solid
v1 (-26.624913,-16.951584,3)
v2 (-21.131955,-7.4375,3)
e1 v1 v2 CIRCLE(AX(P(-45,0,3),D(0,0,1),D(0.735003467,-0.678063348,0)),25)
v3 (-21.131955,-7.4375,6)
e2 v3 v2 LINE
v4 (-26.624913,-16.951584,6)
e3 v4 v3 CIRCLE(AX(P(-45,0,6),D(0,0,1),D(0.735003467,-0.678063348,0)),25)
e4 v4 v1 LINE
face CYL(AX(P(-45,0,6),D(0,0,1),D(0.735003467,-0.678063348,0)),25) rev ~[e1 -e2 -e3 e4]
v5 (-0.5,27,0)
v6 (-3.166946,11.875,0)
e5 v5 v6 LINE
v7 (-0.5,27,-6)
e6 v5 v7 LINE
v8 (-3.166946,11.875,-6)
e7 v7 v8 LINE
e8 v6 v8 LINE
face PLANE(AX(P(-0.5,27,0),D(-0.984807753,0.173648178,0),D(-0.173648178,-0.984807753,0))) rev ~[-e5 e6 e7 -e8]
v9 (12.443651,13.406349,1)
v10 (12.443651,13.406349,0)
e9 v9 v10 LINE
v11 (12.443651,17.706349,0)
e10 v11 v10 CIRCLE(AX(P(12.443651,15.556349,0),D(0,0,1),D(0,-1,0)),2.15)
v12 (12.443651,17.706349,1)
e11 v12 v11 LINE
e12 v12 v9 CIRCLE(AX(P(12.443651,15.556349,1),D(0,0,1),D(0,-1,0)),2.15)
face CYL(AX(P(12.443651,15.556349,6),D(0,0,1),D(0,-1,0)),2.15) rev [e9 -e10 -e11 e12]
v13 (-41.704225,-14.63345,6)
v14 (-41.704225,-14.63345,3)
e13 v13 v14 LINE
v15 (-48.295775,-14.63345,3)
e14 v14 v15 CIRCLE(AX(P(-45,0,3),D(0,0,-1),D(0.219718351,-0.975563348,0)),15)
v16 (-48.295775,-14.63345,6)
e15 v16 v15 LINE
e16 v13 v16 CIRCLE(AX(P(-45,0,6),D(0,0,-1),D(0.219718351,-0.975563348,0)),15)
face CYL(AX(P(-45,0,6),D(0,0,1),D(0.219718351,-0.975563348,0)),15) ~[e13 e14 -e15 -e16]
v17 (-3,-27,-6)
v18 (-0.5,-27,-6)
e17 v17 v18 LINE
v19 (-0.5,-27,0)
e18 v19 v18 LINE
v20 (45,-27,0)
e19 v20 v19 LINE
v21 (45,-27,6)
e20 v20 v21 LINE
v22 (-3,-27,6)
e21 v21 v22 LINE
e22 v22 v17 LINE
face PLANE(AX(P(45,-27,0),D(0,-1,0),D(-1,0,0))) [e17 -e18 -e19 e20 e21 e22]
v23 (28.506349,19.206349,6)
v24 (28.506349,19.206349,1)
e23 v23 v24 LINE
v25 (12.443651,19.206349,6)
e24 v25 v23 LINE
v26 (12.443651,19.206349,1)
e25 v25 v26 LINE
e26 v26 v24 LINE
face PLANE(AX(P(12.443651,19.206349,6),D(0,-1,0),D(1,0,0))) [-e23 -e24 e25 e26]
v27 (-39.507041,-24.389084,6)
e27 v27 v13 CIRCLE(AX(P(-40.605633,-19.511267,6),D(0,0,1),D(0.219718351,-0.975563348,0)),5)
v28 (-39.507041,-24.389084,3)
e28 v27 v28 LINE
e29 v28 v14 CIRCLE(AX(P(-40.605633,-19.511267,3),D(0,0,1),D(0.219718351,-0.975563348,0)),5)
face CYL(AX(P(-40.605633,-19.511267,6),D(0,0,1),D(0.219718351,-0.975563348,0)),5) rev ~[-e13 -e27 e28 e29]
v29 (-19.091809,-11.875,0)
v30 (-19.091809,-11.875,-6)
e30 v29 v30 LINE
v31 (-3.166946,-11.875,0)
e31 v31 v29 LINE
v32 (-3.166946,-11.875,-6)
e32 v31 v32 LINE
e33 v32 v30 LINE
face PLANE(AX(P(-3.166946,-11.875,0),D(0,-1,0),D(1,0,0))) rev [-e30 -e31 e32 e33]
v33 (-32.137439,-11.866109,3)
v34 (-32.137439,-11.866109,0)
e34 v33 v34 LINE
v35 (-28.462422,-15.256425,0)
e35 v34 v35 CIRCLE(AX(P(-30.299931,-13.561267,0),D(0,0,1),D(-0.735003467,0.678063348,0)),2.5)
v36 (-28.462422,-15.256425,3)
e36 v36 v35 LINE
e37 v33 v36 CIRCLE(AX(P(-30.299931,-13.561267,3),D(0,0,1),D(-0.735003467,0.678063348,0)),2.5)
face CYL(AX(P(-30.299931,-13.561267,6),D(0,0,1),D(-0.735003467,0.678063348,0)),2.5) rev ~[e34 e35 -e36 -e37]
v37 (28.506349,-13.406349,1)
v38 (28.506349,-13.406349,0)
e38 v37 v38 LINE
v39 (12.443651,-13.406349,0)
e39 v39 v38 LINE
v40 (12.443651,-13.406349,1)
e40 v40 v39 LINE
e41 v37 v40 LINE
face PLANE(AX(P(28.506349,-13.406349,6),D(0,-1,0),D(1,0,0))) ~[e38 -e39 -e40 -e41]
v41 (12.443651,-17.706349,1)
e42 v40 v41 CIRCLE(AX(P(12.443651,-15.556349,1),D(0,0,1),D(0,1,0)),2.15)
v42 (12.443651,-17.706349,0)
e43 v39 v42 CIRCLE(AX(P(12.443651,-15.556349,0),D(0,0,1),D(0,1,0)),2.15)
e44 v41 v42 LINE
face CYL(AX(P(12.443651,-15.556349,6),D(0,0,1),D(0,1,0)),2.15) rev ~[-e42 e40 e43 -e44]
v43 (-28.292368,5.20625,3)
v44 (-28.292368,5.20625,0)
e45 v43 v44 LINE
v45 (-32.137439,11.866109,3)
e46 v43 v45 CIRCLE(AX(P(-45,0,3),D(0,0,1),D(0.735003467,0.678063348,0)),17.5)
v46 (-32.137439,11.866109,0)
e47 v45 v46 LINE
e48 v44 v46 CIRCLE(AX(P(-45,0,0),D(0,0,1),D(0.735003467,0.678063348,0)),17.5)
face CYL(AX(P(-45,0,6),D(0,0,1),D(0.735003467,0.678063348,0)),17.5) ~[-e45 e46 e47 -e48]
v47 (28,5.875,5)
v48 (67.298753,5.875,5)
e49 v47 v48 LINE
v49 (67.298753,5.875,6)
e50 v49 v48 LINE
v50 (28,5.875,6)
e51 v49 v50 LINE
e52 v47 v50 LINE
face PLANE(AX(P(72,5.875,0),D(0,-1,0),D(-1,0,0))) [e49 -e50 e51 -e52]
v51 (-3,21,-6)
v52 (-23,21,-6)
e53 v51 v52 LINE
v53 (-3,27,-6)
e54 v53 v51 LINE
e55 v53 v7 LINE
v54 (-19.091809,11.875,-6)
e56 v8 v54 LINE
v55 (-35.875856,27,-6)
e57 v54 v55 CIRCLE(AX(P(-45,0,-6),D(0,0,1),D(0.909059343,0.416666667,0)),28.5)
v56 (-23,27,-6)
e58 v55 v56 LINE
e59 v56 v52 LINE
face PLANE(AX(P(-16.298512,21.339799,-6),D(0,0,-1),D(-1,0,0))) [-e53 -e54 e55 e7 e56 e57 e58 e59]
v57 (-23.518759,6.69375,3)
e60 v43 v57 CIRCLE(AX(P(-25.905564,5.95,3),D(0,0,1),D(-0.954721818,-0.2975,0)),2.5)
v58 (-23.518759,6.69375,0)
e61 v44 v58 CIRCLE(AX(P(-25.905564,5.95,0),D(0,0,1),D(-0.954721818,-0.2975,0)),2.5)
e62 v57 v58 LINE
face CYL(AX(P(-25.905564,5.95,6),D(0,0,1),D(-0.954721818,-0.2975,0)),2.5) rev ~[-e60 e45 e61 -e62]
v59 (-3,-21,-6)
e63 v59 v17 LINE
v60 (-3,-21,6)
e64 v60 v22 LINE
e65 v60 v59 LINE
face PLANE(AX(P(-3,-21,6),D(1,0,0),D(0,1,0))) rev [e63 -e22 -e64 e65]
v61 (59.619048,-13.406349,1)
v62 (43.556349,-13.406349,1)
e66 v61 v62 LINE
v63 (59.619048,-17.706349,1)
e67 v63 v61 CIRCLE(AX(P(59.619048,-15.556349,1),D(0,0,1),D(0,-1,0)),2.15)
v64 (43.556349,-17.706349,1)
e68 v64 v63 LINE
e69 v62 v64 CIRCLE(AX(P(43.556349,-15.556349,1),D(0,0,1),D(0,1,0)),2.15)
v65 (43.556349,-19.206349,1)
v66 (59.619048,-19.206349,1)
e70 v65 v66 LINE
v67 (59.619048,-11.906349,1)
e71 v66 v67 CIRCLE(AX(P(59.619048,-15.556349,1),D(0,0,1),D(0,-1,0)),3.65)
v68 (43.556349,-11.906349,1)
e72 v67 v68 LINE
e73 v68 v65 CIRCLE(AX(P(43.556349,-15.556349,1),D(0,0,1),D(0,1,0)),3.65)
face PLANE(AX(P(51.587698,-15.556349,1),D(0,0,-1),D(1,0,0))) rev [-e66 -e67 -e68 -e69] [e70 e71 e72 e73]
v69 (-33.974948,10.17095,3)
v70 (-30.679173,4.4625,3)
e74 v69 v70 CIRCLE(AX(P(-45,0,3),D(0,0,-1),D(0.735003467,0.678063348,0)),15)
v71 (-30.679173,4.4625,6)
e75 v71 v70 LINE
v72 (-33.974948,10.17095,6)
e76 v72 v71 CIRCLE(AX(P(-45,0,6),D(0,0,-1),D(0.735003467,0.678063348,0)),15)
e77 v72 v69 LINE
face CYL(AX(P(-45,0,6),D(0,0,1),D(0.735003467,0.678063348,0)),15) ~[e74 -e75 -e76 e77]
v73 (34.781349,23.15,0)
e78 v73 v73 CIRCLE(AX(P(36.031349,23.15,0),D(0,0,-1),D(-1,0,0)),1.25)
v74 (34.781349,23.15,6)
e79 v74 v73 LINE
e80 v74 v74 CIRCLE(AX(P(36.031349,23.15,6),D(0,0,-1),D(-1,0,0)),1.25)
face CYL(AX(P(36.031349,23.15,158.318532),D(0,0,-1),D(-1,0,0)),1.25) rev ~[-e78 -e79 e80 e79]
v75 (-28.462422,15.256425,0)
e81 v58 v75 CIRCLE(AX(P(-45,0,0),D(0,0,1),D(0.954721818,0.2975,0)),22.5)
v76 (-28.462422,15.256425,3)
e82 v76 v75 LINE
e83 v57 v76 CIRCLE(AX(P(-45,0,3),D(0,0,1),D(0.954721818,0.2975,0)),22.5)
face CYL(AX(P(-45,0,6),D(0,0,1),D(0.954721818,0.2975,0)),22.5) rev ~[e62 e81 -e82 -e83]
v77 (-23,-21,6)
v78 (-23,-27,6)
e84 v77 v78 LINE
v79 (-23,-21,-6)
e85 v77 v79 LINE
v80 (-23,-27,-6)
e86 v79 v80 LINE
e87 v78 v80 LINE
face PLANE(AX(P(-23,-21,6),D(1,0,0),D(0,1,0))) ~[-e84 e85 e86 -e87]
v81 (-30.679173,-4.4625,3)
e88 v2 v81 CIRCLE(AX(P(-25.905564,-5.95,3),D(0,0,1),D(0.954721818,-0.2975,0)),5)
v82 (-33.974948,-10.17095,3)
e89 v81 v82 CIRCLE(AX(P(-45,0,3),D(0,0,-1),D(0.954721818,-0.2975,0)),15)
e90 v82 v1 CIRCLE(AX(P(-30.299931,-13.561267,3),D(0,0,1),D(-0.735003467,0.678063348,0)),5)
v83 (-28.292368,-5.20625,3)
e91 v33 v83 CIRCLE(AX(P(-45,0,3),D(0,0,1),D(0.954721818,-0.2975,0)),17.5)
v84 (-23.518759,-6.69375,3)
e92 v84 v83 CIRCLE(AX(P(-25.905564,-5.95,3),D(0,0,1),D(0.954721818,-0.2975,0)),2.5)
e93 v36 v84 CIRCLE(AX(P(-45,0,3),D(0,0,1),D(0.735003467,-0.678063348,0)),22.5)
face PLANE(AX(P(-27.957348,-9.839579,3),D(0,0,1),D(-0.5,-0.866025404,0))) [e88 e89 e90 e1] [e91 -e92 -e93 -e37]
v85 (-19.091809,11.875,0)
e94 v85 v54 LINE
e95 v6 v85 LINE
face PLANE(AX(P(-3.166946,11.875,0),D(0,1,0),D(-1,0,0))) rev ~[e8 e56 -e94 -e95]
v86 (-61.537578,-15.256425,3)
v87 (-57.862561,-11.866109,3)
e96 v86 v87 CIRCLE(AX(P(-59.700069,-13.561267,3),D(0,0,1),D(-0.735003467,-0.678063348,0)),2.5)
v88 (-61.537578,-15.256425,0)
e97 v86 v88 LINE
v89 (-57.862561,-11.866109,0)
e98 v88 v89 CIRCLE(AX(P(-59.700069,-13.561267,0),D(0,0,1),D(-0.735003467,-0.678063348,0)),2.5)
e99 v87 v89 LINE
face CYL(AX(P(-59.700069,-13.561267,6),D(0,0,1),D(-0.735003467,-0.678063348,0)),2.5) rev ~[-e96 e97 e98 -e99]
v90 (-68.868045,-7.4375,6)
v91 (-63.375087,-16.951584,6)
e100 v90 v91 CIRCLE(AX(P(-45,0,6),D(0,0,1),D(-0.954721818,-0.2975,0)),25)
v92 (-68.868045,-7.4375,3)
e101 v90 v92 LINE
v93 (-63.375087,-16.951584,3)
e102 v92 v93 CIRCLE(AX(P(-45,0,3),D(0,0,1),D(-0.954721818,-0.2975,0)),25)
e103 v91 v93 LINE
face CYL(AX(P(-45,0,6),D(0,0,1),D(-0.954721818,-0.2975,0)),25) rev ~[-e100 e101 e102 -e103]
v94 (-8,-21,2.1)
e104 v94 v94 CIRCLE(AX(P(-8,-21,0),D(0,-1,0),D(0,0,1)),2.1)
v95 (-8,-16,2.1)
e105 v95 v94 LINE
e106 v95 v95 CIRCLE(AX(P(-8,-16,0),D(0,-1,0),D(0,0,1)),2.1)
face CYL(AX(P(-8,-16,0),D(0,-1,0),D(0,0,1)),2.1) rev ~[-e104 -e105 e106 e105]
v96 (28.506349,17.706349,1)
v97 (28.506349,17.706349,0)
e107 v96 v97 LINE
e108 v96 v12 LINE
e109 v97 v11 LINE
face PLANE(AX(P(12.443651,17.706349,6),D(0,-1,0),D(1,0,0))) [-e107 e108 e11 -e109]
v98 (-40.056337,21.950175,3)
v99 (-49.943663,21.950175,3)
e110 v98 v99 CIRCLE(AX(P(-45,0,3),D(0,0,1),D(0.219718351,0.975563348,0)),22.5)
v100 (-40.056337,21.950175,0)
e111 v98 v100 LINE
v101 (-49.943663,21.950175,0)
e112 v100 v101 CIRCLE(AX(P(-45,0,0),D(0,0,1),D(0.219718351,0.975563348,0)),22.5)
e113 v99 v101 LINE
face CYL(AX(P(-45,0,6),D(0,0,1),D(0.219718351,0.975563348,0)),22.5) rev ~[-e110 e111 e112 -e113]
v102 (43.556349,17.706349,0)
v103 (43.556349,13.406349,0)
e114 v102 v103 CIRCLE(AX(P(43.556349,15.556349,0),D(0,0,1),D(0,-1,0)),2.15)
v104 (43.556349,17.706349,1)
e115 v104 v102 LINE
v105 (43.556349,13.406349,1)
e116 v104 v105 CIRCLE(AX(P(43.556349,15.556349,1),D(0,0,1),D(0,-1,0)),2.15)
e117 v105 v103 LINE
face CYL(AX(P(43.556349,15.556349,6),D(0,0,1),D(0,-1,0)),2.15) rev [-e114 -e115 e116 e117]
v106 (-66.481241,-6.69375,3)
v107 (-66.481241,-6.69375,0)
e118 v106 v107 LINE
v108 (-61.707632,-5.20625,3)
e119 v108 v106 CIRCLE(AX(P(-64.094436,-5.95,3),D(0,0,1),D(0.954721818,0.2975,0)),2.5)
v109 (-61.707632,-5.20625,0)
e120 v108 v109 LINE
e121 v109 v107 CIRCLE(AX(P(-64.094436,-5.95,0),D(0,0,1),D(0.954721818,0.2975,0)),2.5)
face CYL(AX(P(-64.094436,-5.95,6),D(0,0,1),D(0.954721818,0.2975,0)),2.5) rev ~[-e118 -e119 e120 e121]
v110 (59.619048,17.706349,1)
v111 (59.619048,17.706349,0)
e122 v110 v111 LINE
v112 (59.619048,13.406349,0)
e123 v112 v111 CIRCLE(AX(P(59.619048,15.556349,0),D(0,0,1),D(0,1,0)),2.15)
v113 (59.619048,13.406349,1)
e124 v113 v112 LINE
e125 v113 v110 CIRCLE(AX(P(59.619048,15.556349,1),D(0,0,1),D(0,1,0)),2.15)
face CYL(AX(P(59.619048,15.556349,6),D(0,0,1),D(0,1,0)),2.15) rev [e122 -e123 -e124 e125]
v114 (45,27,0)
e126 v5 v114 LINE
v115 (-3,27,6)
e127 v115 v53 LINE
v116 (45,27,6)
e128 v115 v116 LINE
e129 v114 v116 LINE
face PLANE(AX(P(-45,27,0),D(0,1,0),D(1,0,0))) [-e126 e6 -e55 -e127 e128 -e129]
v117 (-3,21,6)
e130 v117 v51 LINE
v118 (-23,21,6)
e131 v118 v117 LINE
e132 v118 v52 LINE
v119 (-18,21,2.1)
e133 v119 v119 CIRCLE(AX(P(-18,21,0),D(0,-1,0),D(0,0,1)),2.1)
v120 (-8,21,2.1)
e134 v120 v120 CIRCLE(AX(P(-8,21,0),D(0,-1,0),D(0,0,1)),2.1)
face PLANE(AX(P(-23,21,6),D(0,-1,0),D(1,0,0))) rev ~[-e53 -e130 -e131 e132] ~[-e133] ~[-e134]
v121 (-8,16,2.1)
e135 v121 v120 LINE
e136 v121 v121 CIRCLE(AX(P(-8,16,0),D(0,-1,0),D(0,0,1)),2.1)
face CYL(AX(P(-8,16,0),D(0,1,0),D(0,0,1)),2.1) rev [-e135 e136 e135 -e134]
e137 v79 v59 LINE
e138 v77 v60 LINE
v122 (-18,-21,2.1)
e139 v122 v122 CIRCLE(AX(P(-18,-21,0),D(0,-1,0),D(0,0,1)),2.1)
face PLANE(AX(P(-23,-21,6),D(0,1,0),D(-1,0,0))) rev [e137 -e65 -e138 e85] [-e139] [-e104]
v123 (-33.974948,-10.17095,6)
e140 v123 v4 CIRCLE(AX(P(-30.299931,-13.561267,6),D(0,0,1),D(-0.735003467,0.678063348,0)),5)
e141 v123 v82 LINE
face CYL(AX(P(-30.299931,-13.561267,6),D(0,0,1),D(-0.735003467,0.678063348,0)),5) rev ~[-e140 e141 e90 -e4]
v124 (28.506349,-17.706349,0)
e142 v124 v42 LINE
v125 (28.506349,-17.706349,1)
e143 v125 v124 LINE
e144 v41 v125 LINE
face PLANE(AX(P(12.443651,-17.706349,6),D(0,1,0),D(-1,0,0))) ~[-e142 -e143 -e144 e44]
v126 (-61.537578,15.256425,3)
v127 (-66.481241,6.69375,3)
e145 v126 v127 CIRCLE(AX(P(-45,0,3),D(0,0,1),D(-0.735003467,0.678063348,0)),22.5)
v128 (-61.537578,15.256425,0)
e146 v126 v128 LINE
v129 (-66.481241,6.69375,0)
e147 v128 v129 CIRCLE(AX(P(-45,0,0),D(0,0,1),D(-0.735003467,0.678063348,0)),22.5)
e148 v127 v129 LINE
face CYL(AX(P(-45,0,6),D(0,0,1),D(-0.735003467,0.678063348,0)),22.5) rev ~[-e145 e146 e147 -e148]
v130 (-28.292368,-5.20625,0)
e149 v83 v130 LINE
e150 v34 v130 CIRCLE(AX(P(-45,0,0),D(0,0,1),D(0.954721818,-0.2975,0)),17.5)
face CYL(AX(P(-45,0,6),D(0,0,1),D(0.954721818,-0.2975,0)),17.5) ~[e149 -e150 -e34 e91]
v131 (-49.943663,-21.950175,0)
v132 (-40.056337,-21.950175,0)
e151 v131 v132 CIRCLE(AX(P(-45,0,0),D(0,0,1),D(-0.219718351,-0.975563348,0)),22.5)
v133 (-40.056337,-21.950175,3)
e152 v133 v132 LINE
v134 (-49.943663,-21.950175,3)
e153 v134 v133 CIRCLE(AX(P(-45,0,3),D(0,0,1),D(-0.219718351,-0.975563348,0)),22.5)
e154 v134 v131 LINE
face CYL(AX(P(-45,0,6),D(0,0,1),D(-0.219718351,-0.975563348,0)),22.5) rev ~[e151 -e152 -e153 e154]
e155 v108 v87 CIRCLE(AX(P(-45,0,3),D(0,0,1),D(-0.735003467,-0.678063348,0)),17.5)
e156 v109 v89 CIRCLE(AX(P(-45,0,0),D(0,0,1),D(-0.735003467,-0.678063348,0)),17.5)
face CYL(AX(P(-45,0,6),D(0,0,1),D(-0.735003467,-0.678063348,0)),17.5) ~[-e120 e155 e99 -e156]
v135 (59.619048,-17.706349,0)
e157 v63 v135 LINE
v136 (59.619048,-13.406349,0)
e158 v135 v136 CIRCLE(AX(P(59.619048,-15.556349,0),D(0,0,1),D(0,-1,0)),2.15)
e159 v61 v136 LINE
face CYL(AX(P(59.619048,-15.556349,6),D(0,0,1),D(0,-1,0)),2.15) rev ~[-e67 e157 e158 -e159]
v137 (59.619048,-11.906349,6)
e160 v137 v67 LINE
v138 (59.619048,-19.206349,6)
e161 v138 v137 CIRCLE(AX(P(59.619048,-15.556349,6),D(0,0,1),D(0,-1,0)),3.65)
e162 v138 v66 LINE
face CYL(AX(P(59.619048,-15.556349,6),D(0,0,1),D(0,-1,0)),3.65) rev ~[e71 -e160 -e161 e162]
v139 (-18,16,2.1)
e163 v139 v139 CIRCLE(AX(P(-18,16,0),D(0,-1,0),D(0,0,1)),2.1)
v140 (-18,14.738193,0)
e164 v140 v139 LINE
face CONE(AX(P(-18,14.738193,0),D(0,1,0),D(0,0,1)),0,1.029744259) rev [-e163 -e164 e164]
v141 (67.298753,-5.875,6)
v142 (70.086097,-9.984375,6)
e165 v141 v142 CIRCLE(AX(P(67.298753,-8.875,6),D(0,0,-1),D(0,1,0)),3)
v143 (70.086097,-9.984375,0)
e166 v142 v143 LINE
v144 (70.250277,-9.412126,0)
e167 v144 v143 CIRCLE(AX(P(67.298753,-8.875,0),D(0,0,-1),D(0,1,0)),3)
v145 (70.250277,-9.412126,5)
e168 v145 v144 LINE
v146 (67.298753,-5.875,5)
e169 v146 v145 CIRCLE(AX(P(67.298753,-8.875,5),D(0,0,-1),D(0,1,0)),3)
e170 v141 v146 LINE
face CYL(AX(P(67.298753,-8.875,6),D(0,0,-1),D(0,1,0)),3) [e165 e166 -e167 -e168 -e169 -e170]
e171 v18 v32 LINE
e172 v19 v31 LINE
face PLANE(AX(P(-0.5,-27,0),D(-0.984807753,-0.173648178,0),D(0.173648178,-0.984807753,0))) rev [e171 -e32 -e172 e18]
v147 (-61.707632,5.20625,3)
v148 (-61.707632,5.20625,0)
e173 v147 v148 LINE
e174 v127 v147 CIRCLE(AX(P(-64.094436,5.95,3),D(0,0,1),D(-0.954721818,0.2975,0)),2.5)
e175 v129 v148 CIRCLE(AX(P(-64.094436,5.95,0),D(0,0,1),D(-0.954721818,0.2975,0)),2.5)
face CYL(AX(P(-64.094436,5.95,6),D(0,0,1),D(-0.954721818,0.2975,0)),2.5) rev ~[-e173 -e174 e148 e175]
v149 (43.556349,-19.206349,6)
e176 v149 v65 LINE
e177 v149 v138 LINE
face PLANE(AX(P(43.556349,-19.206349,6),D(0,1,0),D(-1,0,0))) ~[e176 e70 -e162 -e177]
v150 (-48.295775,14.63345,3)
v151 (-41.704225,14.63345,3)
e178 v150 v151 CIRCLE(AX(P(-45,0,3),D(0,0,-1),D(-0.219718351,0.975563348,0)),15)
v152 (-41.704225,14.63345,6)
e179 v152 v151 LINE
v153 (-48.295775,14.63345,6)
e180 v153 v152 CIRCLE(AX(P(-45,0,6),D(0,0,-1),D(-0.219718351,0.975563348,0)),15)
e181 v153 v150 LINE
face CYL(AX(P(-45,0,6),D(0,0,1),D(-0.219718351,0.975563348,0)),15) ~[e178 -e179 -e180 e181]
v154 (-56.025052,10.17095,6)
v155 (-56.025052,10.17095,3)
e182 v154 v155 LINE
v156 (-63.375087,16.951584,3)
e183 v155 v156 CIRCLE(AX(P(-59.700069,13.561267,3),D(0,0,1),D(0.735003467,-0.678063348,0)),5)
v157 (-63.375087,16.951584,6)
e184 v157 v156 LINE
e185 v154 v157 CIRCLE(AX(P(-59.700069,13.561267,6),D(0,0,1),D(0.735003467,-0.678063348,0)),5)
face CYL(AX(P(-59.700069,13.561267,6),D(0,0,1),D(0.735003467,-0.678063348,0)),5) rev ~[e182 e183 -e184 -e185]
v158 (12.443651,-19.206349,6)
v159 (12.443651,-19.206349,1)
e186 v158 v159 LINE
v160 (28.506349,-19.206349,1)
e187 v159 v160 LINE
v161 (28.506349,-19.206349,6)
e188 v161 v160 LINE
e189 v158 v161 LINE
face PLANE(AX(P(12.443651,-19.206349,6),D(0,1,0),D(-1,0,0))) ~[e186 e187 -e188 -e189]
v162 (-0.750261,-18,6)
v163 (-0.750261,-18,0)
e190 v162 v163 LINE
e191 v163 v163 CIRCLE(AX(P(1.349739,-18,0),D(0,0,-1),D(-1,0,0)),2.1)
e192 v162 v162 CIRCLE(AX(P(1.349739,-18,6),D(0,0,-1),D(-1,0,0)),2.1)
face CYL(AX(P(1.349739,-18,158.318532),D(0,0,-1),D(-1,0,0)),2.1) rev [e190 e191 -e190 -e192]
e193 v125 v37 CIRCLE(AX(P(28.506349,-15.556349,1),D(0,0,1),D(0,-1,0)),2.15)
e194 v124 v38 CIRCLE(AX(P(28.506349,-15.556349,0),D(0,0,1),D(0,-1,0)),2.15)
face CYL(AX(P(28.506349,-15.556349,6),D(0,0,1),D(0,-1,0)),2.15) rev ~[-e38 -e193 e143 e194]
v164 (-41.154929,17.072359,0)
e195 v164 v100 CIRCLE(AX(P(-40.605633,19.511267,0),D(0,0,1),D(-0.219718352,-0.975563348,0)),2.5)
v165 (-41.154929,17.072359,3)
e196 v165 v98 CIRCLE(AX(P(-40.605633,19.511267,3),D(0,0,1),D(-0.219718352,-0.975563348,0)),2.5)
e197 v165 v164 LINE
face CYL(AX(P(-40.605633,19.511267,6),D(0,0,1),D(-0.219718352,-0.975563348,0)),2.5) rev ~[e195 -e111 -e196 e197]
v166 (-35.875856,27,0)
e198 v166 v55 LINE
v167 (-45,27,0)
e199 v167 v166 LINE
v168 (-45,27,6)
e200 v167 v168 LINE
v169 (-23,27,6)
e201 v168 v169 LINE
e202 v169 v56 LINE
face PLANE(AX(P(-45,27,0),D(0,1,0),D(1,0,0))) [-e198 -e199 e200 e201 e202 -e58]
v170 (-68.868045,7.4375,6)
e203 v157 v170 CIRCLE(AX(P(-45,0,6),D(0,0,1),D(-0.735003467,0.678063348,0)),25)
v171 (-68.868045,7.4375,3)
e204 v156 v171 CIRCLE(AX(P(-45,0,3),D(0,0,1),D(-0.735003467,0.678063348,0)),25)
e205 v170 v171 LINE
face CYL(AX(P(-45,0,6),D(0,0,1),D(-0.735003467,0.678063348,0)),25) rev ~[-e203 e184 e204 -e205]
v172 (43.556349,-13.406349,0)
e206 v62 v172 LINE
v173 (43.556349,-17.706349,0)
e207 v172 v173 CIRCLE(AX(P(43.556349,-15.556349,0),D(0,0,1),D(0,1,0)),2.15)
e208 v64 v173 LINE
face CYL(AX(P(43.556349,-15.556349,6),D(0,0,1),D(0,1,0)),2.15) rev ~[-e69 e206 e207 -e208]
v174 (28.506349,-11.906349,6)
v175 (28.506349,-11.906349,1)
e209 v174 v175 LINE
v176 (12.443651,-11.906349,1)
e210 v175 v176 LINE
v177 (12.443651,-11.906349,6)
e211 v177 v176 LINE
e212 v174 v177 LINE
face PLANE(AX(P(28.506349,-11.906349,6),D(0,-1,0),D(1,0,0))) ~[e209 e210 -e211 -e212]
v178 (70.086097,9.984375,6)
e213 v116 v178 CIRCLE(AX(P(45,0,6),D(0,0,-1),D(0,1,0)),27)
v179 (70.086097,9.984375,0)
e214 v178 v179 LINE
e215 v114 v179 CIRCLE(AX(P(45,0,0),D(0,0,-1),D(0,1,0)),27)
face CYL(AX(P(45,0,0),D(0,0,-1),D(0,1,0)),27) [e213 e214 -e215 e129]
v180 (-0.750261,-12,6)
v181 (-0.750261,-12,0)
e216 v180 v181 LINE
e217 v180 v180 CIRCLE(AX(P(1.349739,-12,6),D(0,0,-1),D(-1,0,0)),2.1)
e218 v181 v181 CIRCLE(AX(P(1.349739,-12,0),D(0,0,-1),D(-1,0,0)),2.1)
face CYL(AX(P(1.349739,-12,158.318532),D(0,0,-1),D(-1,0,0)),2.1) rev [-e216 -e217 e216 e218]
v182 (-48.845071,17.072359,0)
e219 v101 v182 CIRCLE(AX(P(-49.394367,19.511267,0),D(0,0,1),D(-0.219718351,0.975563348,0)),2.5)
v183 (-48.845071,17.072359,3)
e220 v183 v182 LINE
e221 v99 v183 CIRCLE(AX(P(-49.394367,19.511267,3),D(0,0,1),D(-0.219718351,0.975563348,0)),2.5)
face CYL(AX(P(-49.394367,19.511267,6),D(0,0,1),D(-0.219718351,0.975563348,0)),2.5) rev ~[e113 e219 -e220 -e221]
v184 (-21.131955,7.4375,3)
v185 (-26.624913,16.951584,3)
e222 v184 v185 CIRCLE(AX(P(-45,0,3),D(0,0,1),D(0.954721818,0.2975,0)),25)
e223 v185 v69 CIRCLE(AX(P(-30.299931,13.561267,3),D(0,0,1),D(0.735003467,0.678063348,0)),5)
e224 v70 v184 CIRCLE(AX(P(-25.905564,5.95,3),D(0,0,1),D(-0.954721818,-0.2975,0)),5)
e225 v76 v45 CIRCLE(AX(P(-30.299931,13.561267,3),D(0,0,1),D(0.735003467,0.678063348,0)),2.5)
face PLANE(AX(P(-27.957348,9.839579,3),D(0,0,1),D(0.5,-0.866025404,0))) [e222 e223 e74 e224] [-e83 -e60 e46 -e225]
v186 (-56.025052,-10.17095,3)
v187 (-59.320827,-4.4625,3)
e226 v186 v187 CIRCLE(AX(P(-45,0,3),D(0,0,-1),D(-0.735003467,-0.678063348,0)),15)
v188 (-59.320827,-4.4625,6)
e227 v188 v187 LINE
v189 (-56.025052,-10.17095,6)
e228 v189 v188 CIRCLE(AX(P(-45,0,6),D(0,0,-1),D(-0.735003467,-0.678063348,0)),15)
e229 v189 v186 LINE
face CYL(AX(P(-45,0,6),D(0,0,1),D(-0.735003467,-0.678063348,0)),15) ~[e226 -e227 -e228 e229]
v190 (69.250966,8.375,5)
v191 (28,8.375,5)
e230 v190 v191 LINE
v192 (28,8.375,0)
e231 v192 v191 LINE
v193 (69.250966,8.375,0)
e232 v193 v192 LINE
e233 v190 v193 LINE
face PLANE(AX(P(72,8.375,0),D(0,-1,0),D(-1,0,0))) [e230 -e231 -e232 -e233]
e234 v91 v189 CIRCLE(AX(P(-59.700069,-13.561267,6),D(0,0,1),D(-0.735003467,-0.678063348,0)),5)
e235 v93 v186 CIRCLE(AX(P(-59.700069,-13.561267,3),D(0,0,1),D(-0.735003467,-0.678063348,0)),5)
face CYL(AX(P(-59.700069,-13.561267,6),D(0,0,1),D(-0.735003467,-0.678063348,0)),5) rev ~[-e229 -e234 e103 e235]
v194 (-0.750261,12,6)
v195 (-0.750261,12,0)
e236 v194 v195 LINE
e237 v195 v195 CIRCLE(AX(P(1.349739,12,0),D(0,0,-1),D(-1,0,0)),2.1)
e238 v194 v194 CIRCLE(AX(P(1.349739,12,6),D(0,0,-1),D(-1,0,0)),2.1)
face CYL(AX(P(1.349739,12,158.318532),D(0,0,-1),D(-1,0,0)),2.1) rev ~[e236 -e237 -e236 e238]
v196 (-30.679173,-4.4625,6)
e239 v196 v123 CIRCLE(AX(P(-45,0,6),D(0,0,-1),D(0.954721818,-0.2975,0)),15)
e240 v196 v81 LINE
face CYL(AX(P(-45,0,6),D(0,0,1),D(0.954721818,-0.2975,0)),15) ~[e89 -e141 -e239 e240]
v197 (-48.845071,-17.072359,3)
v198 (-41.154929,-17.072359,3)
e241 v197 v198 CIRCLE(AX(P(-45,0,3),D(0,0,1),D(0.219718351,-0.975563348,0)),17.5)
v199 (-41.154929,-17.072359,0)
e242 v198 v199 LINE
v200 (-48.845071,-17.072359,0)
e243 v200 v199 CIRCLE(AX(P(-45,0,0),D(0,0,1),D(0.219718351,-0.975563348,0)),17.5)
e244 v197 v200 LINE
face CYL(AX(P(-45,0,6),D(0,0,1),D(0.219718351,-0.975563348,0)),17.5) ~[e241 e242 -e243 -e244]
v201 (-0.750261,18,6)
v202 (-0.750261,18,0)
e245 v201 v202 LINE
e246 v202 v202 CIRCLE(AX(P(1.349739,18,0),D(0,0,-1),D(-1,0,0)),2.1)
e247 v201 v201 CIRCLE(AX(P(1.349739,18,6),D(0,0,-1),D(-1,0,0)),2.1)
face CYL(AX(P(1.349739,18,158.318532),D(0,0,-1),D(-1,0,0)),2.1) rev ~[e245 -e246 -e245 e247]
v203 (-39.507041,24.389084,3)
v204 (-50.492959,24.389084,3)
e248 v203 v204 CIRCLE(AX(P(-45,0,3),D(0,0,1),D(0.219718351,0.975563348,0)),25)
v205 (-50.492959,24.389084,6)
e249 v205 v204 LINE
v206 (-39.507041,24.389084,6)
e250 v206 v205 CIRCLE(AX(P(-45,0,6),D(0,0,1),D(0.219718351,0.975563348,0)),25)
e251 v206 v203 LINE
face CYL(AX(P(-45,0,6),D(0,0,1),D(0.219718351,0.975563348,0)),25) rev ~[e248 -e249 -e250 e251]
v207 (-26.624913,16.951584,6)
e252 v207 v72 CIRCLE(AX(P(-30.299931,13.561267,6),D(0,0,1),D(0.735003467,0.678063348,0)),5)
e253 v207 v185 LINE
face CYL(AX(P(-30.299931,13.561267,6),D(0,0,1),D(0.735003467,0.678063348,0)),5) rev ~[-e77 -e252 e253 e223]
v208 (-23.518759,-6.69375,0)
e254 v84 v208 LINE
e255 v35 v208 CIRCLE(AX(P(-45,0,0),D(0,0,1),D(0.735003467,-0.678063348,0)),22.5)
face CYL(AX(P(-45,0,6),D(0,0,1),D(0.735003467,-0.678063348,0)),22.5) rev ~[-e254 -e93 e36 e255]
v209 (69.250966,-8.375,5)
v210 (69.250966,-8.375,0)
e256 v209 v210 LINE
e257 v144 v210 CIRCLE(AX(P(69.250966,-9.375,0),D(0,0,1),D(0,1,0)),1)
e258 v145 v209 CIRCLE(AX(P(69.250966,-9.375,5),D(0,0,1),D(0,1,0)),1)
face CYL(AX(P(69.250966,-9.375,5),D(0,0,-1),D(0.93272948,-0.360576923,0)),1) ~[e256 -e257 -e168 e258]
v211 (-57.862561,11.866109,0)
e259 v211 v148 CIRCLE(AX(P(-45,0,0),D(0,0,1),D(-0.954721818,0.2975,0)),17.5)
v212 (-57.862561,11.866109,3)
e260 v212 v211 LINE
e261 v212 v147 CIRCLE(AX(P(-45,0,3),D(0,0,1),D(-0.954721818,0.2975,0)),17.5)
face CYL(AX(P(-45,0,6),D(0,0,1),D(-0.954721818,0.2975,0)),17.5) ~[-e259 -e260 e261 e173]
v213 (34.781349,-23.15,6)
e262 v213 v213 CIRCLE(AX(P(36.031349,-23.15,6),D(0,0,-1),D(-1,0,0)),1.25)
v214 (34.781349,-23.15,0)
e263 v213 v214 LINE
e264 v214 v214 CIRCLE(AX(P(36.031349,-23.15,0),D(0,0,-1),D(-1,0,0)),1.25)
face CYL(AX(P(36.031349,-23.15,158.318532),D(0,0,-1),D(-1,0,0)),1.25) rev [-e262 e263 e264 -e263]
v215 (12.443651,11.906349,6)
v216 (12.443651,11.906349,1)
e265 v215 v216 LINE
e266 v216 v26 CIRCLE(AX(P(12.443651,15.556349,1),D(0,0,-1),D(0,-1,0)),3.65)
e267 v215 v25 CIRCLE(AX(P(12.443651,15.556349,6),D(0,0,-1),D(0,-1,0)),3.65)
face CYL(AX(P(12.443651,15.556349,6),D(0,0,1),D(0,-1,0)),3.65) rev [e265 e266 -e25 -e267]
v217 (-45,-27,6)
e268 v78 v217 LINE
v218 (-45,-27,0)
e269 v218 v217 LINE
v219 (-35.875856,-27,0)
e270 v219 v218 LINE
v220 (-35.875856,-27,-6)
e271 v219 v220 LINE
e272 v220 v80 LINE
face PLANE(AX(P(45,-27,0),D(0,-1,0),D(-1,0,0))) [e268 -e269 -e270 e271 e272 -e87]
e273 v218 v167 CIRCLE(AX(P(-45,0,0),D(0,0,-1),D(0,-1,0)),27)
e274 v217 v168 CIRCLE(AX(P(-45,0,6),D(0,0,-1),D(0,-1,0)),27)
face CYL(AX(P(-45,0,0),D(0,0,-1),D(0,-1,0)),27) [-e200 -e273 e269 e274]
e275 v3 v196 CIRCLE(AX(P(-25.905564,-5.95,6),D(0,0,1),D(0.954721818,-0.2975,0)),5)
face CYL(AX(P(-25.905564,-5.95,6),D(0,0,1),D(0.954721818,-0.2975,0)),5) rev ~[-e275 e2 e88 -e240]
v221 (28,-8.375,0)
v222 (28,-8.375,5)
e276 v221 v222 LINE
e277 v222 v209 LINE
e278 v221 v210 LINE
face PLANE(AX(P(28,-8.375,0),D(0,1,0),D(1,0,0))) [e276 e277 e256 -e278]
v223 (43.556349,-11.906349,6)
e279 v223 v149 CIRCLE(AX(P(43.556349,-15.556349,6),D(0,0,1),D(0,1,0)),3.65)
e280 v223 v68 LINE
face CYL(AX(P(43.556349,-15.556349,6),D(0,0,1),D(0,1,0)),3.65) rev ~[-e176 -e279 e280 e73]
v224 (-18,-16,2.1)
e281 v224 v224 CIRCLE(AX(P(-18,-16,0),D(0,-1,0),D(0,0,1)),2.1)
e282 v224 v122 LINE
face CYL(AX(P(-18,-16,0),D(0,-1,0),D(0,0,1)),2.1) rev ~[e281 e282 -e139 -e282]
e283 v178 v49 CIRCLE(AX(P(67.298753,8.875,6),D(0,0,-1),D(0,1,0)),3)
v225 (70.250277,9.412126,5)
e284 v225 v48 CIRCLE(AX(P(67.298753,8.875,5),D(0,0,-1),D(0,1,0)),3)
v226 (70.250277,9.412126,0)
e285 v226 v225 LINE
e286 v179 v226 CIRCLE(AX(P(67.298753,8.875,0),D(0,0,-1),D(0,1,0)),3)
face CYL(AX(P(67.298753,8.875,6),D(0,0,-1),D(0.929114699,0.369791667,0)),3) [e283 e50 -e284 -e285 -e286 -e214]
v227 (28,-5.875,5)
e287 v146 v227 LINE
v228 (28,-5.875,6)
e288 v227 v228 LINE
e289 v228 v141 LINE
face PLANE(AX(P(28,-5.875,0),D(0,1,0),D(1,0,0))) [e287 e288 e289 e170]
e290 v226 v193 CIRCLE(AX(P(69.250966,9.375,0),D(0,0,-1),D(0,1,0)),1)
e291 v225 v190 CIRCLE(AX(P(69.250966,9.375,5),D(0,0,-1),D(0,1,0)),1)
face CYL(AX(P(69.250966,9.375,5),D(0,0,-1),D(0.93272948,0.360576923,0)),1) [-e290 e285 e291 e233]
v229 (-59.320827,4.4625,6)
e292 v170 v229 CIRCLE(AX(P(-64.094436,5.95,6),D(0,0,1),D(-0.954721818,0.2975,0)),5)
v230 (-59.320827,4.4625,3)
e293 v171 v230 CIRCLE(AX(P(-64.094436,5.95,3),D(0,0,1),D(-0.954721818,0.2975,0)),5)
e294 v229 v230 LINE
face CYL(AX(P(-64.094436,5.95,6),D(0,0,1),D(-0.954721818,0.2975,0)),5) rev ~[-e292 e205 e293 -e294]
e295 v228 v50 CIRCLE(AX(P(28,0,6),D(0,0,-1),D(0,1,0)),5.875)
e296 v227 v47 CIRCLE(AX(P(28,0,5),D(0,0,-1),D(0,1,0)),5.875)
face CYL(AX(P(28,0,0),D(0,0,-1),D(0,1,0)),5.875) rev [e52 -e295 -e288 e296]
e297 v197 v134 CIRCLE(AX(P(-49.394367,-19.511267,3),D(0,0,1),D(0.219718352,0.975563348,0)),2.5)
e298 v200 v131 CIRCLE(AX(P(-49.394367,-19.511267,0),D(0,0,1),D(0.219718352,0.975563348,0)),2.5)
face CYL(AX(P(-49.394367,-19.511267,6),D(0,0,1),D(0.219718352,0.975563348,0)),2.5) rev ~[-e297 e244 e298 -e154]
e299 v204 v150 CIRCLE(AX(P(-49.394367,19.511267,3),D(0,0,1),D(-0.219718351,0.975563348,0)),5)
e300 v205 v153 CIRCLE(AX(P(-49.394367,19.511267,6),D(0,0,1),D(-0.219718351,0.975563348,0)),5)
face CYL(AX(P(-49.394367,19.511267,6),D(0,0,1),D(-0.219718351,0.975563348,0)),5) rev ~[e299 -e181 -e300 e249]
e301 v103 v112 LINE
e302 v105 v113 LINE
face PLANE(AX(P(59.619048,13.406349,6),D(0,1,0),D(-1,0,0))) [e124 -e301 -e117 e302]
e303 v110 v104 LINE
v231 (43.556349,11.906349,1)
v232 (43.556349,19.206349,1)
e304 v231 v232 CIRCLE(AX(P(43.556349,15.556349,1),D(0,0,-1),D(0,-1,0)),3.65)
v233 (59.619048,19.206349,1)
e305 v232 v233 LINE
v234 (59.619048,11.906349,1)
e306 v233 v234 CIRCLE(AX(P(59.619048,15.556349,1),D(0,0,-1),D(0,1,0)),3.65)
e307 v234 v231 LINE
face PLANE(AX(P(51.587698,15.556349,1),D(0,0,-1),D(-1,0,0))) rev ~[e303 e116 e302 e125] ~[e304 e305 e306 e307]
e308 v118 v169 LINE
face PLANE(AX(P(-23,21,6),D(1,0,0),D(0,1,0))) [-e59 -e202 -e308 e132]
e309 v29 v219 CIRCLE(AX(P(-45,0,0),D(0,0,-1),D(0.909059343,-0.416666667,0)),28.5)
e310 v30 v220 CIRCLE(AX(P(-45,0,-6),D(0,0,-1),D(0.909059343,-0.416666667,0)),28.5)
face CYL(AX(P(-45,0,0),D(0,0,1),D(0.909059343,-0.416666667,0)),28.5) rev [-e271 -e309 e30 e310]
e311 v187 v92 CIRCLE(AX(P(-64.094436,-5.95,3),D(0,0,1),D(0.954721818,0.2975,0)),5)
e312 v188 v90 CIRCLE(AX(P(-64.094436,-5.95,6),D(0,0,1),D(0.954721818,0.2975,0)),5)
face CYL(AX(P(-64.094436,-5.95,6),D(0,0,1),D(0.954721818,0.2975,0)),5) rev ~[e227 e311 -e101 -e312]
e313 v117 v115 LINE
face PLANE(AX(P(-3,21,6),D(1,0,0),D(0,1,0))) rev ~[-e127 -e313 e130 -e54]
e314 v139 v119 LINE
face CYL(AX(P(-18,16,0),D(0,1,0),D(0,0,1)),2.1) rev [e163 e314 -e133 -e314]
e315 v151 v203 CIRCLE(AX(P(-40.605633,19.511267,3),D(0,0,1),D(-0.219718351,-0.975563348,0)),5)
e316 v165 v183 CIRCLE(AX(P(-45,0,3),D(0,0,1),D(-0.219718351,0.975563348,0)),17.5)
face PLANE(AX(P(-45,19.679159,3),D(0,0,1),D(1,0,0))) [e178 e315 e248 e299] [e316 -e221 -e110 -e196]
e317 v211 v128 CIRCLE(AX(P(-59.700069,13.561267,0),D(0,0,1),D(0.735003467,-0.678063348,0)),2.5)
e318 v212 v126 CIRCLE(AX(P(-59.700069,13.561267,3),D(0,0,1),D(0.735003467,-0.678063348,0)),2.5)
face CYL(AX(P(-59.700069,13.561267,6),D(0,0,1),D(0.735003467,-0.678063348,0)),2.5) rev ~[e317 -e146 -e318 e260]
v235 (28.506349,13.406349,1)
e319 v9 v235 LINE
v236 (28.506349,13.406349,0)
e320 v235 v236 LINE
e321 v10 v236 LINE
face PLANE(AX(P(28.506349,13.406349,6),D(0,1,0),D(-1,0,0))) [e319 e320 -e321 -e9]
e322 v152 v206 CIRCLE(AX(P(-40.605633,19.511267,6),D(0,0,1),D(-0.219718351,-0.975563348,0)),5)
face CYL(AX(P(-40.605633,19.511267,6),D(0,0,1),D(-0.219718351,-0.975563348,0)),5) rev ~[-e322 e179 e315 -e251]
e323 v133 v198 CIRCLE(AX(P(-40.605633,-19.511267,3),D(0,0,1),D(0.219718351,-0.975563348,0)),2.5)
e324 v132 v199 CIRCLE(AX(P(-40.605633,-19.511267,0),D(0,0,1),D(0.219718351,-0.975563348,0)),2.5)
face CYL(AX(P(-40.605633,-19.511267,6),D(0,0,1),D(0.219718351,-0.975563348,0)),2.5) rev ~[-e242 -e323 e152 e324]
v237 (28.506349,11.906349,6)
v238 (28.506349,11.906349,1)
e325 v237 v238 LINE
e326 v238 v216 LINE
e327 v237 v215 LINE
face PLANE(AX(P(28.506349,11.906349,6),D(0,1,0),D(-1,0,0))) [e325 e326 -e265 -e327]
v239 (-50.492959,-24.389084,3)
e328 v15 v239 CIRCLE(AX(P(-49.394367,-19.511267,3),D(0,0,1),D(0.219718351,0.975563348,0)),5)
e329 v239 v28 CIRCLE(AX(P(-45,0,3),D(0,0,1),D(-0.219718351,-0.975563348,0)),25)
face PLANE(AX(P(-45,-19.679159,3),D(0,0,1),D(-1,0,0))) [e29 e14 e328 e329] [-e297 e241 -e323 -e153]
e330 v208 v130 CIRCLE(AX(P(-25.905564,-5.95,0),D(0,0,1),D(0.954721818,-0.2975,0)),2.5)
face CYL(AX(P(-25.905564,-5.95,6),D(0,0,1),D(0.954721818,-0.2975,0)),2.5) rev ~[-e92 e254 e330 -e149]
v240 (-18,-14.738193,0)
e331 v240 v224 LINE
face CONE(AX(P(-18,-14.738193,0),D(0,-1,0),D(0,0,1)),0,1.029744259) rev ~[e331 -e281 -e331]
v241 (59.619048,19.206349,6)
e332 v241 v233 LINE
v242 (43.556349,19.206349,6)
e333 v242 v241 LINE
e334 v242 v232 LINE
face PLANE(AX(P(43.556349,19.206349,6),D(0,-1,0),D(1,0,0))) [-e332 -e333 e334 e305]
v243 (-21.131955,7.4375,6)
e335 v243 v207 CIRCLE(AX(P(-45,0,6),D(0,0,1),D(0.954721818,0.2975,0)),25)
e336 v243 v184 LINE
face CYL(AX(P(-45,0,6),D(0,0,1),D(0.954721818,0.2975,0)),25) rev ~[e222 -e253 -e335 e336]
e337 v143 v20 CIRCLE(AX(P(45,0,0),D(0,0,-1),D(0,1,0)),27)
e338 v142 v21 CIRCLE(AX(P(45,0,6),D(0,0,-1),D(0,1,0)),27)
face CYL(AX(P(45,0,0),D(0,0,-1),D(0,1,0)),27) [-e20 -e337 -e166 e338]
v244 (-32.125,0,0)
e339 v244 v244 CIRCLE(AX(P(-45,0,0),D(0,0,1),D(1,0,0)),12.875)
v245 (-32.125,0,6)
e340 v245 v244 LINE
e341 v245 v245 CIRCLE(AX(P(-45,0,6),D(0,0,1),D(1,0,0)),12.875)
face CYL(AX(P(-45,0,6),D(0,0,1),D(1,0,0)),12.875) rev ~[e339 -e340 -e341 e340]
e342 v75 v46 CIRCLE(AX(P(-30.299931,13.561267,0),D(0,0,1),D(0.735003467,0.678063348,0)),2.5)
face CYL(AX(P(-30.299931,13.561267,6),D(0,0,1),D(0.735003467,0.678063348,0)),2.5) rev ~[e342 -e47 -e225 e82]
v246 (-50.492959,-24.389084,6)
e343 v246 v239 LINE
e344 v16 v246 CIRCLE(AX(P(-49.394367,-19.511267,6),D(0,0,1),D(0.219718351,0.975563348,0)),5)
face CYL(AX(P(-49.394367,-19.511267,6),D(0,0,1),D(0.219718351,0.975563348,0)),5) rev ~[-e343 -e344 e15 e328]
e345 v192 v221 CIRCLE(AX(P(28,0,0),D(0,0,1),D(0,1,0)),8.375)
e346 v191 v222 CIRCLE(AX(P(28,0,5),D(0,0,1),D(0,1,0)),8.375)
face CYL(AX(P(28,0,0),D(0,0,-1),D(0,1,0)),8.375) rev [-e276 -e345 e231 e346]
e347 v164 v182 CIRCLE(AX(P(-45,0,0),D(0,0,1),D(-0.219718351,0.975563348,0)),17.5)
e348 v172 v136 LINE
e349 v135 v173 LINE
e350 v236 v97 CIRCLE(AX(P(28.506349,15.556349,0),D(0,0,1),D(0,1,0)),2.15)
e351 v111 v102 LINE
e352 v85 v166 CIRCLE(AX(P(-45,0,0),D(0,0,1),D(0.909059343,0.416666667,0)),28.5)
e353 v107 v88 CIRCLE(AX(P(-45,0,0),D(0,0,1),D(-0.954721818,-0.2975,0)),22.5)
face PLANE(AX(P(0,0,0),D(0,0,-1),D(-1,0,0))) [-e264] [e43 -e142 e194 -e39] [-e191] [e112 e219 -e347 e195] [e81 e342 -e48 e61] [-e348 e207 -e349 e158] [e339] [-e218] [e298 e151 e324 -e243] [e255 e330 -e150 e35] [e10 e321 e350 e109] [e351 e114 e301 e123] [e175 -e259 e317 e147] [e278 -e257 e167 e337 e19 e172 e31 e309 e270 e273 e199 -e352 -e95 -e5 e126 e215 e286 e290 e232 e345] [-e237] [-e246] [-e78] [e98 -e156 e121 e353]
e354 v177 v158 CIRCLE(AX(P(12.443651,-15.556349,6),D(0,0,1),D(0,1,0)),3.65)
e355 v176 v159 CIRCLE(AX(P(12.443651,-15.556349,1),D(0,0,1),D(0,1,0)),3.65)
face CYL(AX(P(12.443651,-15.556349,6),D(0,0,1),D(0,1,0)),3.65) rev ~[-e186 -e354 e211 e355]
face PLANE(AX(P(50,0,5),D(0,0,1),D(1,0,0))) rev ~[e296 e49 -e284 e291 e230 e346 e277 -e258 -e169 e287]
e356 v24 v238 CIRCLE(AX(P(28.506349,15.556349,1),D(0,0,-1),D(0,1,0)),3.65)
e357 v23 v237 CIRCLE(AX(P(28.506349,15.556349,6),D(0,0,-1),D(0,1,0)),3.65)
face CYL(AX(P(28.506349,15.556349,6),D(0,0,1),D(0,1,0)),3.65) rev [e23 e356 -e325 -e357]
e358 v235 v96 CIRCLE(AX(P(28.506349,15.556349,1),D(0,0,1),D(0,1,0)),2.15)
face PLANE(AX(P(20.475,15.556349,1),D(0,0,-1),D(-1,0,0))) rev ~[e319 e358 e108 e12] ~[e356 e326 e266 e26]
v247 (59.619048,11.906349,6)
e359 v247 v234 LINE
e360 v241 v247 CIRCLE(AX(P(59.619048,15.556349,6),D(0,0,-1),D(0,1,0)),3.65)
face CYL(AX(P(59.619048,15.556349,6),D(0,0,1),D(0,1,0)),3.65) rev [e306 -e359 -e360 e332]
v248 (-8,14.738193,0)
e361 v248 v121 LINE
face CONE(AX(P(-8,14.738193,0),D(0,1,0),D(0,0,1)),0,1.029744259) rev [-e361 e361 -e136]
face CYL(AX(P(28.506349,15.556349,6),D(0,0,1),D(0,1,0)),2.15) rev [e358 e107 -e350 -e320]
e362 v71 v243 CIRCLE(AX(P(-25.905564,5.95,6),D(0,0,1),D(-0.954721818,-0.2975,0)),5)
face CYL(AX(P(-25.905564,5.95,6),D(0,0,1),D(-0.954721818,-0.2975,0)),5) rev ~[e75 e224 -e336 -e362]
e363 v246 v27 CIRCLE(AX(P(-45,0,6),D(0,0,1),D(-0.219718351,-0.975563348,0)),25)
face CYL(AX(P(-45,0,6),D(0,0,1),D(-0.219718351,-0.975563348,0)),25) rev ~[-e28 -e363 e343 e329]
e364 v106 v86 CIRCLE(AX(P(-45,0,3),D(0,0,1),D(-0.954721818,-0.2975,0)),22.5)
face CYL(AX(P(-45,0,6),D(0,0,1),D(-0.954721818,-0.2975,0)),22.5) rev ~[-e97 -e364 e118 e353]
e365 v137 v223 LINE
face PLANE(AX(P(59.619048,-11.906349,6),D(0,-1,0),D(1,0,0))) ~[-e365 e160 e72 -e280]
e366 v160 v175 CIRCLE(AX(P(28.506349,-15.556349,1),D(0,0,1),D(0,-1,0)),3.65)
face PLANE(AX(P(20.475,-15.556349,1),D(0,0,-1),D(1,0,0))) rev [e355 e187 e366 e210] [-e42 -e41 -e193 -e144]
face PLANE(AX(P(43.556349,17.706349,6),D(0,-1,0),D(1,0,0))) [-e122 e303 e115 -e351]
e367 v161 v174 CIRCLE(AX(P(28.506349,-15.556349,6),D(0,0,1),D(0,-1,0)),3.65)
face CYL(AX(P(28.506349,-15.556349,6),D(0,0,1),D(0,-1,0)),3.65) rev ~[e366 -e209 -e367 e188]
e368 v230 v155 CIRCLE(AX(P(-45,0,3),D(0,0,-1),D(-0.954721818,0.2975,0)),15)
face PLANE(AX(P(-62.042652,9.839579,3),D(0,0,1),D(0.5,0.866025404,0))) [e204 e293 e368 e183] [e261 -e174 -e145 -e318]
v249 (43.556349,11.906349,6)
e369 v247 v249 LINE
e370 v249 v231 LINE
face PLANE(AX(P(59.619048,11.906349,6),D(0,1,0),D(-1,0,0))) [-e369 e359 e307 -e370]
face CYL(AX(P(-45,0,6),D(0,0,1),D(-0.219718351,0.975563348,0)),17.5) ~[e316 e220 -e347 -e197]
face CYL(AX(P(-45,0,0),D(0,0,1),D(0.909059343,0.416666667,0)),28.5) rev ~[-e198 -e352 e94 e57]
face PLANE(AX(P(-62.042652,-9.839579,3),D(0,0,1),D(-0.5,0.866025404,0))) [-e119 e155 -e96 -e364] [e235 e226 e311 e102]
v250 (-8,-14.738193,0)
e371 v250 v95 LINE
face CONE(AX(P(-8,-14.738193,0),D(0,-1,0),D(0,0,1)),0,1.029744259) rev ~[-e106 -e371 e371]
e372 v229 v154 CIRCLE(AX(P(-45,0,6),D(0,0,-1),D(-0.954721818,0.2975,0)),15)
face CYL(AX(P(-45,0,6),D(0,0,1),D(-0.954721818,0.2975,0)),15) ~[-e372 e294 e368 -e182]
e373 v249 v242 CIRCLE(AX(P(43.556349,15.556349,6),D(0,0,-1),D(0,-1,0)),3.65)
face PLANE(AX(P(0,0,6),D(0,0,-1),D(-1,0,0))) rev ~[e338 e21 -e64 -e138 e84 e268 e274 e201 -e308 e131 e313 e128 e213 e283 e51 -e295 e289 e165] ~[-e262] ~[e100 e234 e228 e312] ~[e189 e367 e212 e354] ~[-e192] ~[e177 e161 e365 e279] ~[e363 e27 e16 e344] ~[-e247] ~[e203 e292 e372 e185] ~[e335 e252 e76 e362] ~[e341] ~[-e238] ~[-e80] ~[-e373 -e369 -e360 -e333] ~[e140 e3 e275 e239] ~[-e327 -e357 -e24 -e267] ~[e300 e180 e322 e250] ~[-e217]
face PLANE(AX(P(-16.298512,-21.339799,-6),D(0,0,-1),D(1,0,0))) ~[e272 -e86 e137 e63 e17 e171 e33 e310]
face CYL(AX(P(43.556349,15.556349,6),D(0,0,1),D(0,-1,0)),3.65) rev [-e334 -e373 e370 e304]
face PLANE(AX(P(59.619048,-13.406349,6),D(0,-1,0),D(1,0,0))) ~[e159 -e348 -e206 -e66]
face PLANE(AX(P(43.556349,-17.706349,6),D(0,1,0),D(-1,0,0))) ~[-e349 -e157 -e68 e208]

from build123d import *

# Parameters (mm, degrees)
BOSS_EXTRUDE1_DEPTH            = 6
SKETCH2_R                      = 12.875
CUT_EXTRUDE1_DEPTH             = 78.129760793
CUT_EXTRUDE2_DEPTH             = 3
CUT_EXTRUDE3_DEPTH             = 78.129760793
CIRPATTERN1_COUNT              = 6
CUT_EXTRUDE4_DEPTH             = 5
FILLET1_R                      = 1
CUT_EXTRUDE5_DEPTH             = 78.129760793
FILLET2_R                      = 3
CUT_EXTRUDE6_DEPTH             = 5
CUT_EXTRUDE7_DEPTH             = 78.129760793
M3X0_5_TAPPED_HOLE1_D          = 2.5
M5X0_8_TAPPED_HOLE1_D          = 4.2
BOSS_EXTRUDE2_DEPTH            = 6
SKETCH15_W                     = 20
SKETCH15_H                     = 6
CUT_EXTRUDE8_DEPTH             = 78.826730626
M5X0_8_TAPPED_HOLE2_AT_2_COUNT = 2
M5X0_8_TAPPED_HOLE2_AT_2_PITCH = 10


with BuildPart() as part:
    # Sketch1 → Boss-Extrude1 (new body)
    with BuildSketch(Plane.XY):
        with BuildLine():
            Line((45, -27), (-45, -27))
            ThreePointArc((-45, -27), (-72, 0), (-45, 27))
            Line((-45, 27), (45, 27))
            ThreePointArc((45, 27), (72, 0), (45, -27))
        make_face()
    extrude(amount=BOSS_EXTRUDE1_DEPTH)

    # Sketch2 → Cut-Extrude1 (cut, through all)
    with BuildSketch(Plane.XY.offset(6)):
        with Locations((-45, 0)):
            Circle(SKETCH2_R)
    extrude(amount=-CUT_EXTRUDE1_DEPTH, mode=Mode.SUBTRACT)

    # Sketch3 → Cut-Extrude2 (cut)
    with BuildSketch(Plane.XY.offset(6)):
        with BuildLine():
            ThreePointArc((-39.507041214, 24.389083701), (-45, 25), (-50.492958786, 24.389083701))
            ThreePointArc((-50.492958786, 24.389083701), (-54.272183769, 18.412675204), (-48.295775272, 14.633450221))
            ThreePointArc((-48.295775272, 14.633450221), (-45, 15), (-41.704224728, 14.633450221))
            ThreePointArc((-41.704224728, 14.633450221), (-35.727816231, 18.412675204), (-39.507041214, 24.389083701))
        make_face()
    cut_extrude2 = extrude(amount=-CUT_EXTRUDE2_DEPTH, mode=Mode.SUBTRACT)

    # Sketch4 → Cut-Extrude3 (cut, through all)
    with BuildSketch(Plane.XY.offset(6)):
        with BuildLine():
            ThreePointArc((-40.056337093, 21.950175331), (-45, 22.5), (-49.943662907, 21.950175331))
            ThreePointArc((-49.943662907, 21.950175331), (-51.833275399, 18.961971082), (-48.84507115, 17.072358591))
            ThreePointArc((-48.84507115, 17.072358591), (-45, 17.5), (-41.15492885, 17.072358591))
            ThreePointArc((-41.15492885, 17.072358591), (-38.166724601, 18.961971082), (-40.056337093, 21.950175331))
        make_face()
    cut_extrude3 = extrude(amount=-CUT_EXTRUDE3_DEPTH, mode=Mode.SUBTRACT)

    # CirPattern1: Cut-Extrude2, Cut-Extrude3 ×6 about axis
    cirpattern1_axis = Axis((-45, 0, 0), (0, 0, 1))
    add([cut_extrude2.rotate(cirpattern1_axis, i * 360 / CIRPATTERN1_COUNT) for i in range(1, CIRPATTERN1_COUNT)], mode=Mode.SUBTRACT)
    add([cut_extrude3.rotate(cirpattern1_axis, i * 360 / CIRPATTERN1_COUNT) for i in range(1, CIRPATTERN1_COUNT)], mode=Mode.SUBTRACT)

    # Sketch5 → Cut-Extrude4 (cut)
    with BuildSketch(Plane(origin=(0, 0, 0), x_dir=(-1, 0, 0), z_dir=(0, 0, -1))):
        with BuildLine():
            Line((-72, 8.375), (-28, 8.375))
            ThreePointArc((-28, 8.375), (-19.625, 0), (-28, -8.375))
            Line((-28, -8.375), (-72, -8.375))
            ThreePointArc((-72, -8.375), (-80.375, 0), (-72, 8.375))
        make_face()
    extrude(amount=-CUT_EXTRUDE4_DEPTH, mode=Mode.SUBTRACT)

    # Fillet1
    fillet1_edges = [part.edges().sort_by_distance(p)[0] for p in [
        (70.668256174, 8.375, 2.5),
        (70.668256174, -8.375, 2.5),
    ]]
    fillet(fillet1_edges, radius=FILLET1_R)

    # Sketch6 → Cut-Extrude5 (cut, through all)
    with BuildSketch(Plane(origin=(0, 0, 0), x_dir=(-1, 0, 0), z_dir=(0, 0, -1))):
        with BuildLine():
            Line((-72, 5.875), (-28, 5.875))
            ThreePointArc((-28, 5.875), (-22.125, 0), (-28, -5.875))
            Line((-28, -5.875), (-72, -5.875))
            ThreePointArc((-72, -5.875), (-77.875, 0), (-72, 5.875))
        make_face()
    extrude(amount=-CUT_EXTRUDE5_DEPTH, mode=Mode.SUBTRACT)

    # Fillet2
    fillet2_edges = [part.edges().sort_by_distance(p)[0] for p in [
        (71.353071453, -5.875, 5.5),
        (71.353071453, 5.875, 5.5),
    ]]
    fillet(fillet2_edges, radius=FILLET2_R)

    # Sketch7 → Cut-Extrude6 (cut)
    with BuildSketch(Plane.XY.offset(6)):
        with BuildLine():
            Line((28.506349186, 11.906349186), (12.443650814, 11.906349186))
            ThreePointArc((12.443650814, 11.906349186), (8.793650814, 15.556349186), (12.443650814, 19.206349186))
            Line((12.443650814, 19.206349186), (28.506349186, 19.206349186))
            ThreePointArc((28.506349186, 19.206349186), (32.156349186, 15.556349186), (28.506349186, 11.906349186))
        make_face()
        with BuildLine():
            Line((59.619047558, 11.906349186), (43.556349186, 11.906349186))
            ThreePointArc((43.556349186, 11.906349186), (39.906349186, 15.556349186), (43.556349186, 19.206349186))
            Line((43.556349186, 19.206349186), (59.619047558, 19.206349186))
            ThreePointArc((59.619047558, 19.206349186), (63.269047558, 15.556349186), (59.619047558, 11.906349186))
        make_face()
    cut_extrude6 = extrude(amount=-CUT_EXTRUDE6_DEPTH, mode=Mode.SUBTRACT)

    # Sketch8 → Cut-Extrude7 (cut, through all)
    with BuildSketch(Plane.XY.offset(6)):
        with BuildLine():
            Line((12.443650814, 17.706349186), (28.506349186, 17.706349186))
            ThreePointArc((28.506349186, 17.706349186), (30.656349186, 15.556349186), (28.506349186, 13.406349186))
            Line((28.506349186, 13.406349186), (12.443650814, 13.406349186))
            ThreePointArc((12.443650814, 13.406349186), (10.293650814, 15.556349186), (12.443650814, 17.706349186))
        make_face()
        with BuildLine():
            Line((43.556349186, 17.706349186), (59.619047558, 17.706349186))
            ThreePointArc((59.619047558, 17.706349186), (61.769047558, 15.556349186), (59.619047558, 13.406349186))
            Line((59.619047558, 13.406349186), (43.556349186, 13.406349186))
            ThreePointArc((43.556349186, 13.406349186), (41.406349186, 15.556349186), (43.556349186, 17.706349186))
        make_face()
    cut_extrude7 = extrude(amount=-CUT_EXTRUDE7_DEPTH, mode=Mode.SUBTRACT)

    # M3x0.5 Tapped Hole1 (through all)
    with Locations(Plane.XY.offset(6)):
        with Locations((36.031349186, 23.15)):
            m3x0_5_tapped_hole1 = Hole(M3X0_5_TAPPED_HOLE1_D / 2)

    # M5x0.8 Tapped Hole1 (through all)
    with Locations(Plane.XY.offset(6)):
        with Locations((1.349738949, 12), (1.349738949, 18)):
            m5x0_8_tapped_hole1 = Hole(M5X0_8_TAPPED_HOLE1_D / 2)

    # Sketch14 → Boss-Extrude2 (add)
    with BuildSketch(Plane(origin=(0, 0, 0), x_dir=(-1, 0, 0), z_dir=(0, 0, -1))):
        with BuildLine():
            Line((0.5, 27), (3.166945583, 11.875))
            Line((3.166945583, 11.875), (19.091808728, 11.875))
            ThreePointArc((19.091808728, 11.875), (25.921018598, 21.171737498), (35.875856205, 27))
            Line((35.875856205, 27), (0.5, 27))
        make_face()
    boss_extrude2 = extrude(amount=BOSS_EXTRUDE2_DEPTH)

    # Sketch15 → Cut-Extrude8 (cut, through all)
    with BuildSketch(Plane.XY.offset(6)):
        with Locations((-13, 24)):
            Rectangle(SKETCH15_W, SKETCH15_H)
    cut_extrude8 = extrude(amount=-CUT_EXTRUDE8_DEPTH, mode=Mode.SUBTRACT)

    # Sketch17 → M5x0.8 Tapped Hole2 (revolve, cut)
    with BuildSketch(Plane(origin=(-18, 21, 0), x_dir=(0, 0, 1), z_dir=(1, 0, 0))):
        Polygon((0, 0), (0, 6.2618073), (2.1, 5), (2.1, 0), align=None)
    m5x0_8_tapped_hole2 = revolve(axis=Axis((-18, 27.35, 0), (0, -1, 0)), mode=Mode.SUBTRACT)

    # M5x0.8 Tapped Hole2 at 2: M5x0.8 Tapped Hole2 ×2
    with Locations(*[(i * M5X0_8_TAPPED_HOLE2_AT_2_PITCH, 0, 0) for i in range(1, M5X0_8_TAPPED_HOLE2_AT_2_COUNT)]):
        add(m5x0_8_tapped_hole2, mode=Mode.SUBTRACT)

    # Mirror1: Cut-Extrude6, Cut-Extrude7, M3x0.5 Tapped Hole1, M5x0.8 Tapped Hole1, Boss-Extrude2, Cut-Extrude8, M5x0.8 Tapped Hole2 across plane
    add(cut_extrude6.mirror(Plane.ZX), mode=Mode.SUBTRACT)
    add(cut_extrude7.mirror(Plane.ZX), mode=Mode.SUBTRACT)
    add(m3x0_5_tapped_hole1.mirror(Plane.ZX), mode=Mode.SUBTRACT)
    add(m5x0_8_tapped_hole1.mirror(Plane.ZX), mode=Mode.SUBTRACT)
    add(boss_extrude2.mirror(Plane.ZX))
    add(cut_extrude8.mirror(Plane.ZX), mode=Mode.SUBTRACT)
    add(m5x0_8_tapped_hole2.mirror(Plane.ZX), mode=Mode.SUBTRACT)

    # Mirror1 copy 1 sketch → Mirror1 copy 1 (revolve, cut)
    with BuildSketch(Plane(origin=(-8, -21, 0), x_dir=(0, 0, 1), z_dir=(1, 0, 0))):
        Polygon((0, 0), (0, -6.2618073), (2.1, -5), (2.1, 0), align=None)
    revolve(axis=Axis((-8, -27.35, 0), (0, -1, 0)), mode=Mode.SUBTRACT)


solid = part.part
